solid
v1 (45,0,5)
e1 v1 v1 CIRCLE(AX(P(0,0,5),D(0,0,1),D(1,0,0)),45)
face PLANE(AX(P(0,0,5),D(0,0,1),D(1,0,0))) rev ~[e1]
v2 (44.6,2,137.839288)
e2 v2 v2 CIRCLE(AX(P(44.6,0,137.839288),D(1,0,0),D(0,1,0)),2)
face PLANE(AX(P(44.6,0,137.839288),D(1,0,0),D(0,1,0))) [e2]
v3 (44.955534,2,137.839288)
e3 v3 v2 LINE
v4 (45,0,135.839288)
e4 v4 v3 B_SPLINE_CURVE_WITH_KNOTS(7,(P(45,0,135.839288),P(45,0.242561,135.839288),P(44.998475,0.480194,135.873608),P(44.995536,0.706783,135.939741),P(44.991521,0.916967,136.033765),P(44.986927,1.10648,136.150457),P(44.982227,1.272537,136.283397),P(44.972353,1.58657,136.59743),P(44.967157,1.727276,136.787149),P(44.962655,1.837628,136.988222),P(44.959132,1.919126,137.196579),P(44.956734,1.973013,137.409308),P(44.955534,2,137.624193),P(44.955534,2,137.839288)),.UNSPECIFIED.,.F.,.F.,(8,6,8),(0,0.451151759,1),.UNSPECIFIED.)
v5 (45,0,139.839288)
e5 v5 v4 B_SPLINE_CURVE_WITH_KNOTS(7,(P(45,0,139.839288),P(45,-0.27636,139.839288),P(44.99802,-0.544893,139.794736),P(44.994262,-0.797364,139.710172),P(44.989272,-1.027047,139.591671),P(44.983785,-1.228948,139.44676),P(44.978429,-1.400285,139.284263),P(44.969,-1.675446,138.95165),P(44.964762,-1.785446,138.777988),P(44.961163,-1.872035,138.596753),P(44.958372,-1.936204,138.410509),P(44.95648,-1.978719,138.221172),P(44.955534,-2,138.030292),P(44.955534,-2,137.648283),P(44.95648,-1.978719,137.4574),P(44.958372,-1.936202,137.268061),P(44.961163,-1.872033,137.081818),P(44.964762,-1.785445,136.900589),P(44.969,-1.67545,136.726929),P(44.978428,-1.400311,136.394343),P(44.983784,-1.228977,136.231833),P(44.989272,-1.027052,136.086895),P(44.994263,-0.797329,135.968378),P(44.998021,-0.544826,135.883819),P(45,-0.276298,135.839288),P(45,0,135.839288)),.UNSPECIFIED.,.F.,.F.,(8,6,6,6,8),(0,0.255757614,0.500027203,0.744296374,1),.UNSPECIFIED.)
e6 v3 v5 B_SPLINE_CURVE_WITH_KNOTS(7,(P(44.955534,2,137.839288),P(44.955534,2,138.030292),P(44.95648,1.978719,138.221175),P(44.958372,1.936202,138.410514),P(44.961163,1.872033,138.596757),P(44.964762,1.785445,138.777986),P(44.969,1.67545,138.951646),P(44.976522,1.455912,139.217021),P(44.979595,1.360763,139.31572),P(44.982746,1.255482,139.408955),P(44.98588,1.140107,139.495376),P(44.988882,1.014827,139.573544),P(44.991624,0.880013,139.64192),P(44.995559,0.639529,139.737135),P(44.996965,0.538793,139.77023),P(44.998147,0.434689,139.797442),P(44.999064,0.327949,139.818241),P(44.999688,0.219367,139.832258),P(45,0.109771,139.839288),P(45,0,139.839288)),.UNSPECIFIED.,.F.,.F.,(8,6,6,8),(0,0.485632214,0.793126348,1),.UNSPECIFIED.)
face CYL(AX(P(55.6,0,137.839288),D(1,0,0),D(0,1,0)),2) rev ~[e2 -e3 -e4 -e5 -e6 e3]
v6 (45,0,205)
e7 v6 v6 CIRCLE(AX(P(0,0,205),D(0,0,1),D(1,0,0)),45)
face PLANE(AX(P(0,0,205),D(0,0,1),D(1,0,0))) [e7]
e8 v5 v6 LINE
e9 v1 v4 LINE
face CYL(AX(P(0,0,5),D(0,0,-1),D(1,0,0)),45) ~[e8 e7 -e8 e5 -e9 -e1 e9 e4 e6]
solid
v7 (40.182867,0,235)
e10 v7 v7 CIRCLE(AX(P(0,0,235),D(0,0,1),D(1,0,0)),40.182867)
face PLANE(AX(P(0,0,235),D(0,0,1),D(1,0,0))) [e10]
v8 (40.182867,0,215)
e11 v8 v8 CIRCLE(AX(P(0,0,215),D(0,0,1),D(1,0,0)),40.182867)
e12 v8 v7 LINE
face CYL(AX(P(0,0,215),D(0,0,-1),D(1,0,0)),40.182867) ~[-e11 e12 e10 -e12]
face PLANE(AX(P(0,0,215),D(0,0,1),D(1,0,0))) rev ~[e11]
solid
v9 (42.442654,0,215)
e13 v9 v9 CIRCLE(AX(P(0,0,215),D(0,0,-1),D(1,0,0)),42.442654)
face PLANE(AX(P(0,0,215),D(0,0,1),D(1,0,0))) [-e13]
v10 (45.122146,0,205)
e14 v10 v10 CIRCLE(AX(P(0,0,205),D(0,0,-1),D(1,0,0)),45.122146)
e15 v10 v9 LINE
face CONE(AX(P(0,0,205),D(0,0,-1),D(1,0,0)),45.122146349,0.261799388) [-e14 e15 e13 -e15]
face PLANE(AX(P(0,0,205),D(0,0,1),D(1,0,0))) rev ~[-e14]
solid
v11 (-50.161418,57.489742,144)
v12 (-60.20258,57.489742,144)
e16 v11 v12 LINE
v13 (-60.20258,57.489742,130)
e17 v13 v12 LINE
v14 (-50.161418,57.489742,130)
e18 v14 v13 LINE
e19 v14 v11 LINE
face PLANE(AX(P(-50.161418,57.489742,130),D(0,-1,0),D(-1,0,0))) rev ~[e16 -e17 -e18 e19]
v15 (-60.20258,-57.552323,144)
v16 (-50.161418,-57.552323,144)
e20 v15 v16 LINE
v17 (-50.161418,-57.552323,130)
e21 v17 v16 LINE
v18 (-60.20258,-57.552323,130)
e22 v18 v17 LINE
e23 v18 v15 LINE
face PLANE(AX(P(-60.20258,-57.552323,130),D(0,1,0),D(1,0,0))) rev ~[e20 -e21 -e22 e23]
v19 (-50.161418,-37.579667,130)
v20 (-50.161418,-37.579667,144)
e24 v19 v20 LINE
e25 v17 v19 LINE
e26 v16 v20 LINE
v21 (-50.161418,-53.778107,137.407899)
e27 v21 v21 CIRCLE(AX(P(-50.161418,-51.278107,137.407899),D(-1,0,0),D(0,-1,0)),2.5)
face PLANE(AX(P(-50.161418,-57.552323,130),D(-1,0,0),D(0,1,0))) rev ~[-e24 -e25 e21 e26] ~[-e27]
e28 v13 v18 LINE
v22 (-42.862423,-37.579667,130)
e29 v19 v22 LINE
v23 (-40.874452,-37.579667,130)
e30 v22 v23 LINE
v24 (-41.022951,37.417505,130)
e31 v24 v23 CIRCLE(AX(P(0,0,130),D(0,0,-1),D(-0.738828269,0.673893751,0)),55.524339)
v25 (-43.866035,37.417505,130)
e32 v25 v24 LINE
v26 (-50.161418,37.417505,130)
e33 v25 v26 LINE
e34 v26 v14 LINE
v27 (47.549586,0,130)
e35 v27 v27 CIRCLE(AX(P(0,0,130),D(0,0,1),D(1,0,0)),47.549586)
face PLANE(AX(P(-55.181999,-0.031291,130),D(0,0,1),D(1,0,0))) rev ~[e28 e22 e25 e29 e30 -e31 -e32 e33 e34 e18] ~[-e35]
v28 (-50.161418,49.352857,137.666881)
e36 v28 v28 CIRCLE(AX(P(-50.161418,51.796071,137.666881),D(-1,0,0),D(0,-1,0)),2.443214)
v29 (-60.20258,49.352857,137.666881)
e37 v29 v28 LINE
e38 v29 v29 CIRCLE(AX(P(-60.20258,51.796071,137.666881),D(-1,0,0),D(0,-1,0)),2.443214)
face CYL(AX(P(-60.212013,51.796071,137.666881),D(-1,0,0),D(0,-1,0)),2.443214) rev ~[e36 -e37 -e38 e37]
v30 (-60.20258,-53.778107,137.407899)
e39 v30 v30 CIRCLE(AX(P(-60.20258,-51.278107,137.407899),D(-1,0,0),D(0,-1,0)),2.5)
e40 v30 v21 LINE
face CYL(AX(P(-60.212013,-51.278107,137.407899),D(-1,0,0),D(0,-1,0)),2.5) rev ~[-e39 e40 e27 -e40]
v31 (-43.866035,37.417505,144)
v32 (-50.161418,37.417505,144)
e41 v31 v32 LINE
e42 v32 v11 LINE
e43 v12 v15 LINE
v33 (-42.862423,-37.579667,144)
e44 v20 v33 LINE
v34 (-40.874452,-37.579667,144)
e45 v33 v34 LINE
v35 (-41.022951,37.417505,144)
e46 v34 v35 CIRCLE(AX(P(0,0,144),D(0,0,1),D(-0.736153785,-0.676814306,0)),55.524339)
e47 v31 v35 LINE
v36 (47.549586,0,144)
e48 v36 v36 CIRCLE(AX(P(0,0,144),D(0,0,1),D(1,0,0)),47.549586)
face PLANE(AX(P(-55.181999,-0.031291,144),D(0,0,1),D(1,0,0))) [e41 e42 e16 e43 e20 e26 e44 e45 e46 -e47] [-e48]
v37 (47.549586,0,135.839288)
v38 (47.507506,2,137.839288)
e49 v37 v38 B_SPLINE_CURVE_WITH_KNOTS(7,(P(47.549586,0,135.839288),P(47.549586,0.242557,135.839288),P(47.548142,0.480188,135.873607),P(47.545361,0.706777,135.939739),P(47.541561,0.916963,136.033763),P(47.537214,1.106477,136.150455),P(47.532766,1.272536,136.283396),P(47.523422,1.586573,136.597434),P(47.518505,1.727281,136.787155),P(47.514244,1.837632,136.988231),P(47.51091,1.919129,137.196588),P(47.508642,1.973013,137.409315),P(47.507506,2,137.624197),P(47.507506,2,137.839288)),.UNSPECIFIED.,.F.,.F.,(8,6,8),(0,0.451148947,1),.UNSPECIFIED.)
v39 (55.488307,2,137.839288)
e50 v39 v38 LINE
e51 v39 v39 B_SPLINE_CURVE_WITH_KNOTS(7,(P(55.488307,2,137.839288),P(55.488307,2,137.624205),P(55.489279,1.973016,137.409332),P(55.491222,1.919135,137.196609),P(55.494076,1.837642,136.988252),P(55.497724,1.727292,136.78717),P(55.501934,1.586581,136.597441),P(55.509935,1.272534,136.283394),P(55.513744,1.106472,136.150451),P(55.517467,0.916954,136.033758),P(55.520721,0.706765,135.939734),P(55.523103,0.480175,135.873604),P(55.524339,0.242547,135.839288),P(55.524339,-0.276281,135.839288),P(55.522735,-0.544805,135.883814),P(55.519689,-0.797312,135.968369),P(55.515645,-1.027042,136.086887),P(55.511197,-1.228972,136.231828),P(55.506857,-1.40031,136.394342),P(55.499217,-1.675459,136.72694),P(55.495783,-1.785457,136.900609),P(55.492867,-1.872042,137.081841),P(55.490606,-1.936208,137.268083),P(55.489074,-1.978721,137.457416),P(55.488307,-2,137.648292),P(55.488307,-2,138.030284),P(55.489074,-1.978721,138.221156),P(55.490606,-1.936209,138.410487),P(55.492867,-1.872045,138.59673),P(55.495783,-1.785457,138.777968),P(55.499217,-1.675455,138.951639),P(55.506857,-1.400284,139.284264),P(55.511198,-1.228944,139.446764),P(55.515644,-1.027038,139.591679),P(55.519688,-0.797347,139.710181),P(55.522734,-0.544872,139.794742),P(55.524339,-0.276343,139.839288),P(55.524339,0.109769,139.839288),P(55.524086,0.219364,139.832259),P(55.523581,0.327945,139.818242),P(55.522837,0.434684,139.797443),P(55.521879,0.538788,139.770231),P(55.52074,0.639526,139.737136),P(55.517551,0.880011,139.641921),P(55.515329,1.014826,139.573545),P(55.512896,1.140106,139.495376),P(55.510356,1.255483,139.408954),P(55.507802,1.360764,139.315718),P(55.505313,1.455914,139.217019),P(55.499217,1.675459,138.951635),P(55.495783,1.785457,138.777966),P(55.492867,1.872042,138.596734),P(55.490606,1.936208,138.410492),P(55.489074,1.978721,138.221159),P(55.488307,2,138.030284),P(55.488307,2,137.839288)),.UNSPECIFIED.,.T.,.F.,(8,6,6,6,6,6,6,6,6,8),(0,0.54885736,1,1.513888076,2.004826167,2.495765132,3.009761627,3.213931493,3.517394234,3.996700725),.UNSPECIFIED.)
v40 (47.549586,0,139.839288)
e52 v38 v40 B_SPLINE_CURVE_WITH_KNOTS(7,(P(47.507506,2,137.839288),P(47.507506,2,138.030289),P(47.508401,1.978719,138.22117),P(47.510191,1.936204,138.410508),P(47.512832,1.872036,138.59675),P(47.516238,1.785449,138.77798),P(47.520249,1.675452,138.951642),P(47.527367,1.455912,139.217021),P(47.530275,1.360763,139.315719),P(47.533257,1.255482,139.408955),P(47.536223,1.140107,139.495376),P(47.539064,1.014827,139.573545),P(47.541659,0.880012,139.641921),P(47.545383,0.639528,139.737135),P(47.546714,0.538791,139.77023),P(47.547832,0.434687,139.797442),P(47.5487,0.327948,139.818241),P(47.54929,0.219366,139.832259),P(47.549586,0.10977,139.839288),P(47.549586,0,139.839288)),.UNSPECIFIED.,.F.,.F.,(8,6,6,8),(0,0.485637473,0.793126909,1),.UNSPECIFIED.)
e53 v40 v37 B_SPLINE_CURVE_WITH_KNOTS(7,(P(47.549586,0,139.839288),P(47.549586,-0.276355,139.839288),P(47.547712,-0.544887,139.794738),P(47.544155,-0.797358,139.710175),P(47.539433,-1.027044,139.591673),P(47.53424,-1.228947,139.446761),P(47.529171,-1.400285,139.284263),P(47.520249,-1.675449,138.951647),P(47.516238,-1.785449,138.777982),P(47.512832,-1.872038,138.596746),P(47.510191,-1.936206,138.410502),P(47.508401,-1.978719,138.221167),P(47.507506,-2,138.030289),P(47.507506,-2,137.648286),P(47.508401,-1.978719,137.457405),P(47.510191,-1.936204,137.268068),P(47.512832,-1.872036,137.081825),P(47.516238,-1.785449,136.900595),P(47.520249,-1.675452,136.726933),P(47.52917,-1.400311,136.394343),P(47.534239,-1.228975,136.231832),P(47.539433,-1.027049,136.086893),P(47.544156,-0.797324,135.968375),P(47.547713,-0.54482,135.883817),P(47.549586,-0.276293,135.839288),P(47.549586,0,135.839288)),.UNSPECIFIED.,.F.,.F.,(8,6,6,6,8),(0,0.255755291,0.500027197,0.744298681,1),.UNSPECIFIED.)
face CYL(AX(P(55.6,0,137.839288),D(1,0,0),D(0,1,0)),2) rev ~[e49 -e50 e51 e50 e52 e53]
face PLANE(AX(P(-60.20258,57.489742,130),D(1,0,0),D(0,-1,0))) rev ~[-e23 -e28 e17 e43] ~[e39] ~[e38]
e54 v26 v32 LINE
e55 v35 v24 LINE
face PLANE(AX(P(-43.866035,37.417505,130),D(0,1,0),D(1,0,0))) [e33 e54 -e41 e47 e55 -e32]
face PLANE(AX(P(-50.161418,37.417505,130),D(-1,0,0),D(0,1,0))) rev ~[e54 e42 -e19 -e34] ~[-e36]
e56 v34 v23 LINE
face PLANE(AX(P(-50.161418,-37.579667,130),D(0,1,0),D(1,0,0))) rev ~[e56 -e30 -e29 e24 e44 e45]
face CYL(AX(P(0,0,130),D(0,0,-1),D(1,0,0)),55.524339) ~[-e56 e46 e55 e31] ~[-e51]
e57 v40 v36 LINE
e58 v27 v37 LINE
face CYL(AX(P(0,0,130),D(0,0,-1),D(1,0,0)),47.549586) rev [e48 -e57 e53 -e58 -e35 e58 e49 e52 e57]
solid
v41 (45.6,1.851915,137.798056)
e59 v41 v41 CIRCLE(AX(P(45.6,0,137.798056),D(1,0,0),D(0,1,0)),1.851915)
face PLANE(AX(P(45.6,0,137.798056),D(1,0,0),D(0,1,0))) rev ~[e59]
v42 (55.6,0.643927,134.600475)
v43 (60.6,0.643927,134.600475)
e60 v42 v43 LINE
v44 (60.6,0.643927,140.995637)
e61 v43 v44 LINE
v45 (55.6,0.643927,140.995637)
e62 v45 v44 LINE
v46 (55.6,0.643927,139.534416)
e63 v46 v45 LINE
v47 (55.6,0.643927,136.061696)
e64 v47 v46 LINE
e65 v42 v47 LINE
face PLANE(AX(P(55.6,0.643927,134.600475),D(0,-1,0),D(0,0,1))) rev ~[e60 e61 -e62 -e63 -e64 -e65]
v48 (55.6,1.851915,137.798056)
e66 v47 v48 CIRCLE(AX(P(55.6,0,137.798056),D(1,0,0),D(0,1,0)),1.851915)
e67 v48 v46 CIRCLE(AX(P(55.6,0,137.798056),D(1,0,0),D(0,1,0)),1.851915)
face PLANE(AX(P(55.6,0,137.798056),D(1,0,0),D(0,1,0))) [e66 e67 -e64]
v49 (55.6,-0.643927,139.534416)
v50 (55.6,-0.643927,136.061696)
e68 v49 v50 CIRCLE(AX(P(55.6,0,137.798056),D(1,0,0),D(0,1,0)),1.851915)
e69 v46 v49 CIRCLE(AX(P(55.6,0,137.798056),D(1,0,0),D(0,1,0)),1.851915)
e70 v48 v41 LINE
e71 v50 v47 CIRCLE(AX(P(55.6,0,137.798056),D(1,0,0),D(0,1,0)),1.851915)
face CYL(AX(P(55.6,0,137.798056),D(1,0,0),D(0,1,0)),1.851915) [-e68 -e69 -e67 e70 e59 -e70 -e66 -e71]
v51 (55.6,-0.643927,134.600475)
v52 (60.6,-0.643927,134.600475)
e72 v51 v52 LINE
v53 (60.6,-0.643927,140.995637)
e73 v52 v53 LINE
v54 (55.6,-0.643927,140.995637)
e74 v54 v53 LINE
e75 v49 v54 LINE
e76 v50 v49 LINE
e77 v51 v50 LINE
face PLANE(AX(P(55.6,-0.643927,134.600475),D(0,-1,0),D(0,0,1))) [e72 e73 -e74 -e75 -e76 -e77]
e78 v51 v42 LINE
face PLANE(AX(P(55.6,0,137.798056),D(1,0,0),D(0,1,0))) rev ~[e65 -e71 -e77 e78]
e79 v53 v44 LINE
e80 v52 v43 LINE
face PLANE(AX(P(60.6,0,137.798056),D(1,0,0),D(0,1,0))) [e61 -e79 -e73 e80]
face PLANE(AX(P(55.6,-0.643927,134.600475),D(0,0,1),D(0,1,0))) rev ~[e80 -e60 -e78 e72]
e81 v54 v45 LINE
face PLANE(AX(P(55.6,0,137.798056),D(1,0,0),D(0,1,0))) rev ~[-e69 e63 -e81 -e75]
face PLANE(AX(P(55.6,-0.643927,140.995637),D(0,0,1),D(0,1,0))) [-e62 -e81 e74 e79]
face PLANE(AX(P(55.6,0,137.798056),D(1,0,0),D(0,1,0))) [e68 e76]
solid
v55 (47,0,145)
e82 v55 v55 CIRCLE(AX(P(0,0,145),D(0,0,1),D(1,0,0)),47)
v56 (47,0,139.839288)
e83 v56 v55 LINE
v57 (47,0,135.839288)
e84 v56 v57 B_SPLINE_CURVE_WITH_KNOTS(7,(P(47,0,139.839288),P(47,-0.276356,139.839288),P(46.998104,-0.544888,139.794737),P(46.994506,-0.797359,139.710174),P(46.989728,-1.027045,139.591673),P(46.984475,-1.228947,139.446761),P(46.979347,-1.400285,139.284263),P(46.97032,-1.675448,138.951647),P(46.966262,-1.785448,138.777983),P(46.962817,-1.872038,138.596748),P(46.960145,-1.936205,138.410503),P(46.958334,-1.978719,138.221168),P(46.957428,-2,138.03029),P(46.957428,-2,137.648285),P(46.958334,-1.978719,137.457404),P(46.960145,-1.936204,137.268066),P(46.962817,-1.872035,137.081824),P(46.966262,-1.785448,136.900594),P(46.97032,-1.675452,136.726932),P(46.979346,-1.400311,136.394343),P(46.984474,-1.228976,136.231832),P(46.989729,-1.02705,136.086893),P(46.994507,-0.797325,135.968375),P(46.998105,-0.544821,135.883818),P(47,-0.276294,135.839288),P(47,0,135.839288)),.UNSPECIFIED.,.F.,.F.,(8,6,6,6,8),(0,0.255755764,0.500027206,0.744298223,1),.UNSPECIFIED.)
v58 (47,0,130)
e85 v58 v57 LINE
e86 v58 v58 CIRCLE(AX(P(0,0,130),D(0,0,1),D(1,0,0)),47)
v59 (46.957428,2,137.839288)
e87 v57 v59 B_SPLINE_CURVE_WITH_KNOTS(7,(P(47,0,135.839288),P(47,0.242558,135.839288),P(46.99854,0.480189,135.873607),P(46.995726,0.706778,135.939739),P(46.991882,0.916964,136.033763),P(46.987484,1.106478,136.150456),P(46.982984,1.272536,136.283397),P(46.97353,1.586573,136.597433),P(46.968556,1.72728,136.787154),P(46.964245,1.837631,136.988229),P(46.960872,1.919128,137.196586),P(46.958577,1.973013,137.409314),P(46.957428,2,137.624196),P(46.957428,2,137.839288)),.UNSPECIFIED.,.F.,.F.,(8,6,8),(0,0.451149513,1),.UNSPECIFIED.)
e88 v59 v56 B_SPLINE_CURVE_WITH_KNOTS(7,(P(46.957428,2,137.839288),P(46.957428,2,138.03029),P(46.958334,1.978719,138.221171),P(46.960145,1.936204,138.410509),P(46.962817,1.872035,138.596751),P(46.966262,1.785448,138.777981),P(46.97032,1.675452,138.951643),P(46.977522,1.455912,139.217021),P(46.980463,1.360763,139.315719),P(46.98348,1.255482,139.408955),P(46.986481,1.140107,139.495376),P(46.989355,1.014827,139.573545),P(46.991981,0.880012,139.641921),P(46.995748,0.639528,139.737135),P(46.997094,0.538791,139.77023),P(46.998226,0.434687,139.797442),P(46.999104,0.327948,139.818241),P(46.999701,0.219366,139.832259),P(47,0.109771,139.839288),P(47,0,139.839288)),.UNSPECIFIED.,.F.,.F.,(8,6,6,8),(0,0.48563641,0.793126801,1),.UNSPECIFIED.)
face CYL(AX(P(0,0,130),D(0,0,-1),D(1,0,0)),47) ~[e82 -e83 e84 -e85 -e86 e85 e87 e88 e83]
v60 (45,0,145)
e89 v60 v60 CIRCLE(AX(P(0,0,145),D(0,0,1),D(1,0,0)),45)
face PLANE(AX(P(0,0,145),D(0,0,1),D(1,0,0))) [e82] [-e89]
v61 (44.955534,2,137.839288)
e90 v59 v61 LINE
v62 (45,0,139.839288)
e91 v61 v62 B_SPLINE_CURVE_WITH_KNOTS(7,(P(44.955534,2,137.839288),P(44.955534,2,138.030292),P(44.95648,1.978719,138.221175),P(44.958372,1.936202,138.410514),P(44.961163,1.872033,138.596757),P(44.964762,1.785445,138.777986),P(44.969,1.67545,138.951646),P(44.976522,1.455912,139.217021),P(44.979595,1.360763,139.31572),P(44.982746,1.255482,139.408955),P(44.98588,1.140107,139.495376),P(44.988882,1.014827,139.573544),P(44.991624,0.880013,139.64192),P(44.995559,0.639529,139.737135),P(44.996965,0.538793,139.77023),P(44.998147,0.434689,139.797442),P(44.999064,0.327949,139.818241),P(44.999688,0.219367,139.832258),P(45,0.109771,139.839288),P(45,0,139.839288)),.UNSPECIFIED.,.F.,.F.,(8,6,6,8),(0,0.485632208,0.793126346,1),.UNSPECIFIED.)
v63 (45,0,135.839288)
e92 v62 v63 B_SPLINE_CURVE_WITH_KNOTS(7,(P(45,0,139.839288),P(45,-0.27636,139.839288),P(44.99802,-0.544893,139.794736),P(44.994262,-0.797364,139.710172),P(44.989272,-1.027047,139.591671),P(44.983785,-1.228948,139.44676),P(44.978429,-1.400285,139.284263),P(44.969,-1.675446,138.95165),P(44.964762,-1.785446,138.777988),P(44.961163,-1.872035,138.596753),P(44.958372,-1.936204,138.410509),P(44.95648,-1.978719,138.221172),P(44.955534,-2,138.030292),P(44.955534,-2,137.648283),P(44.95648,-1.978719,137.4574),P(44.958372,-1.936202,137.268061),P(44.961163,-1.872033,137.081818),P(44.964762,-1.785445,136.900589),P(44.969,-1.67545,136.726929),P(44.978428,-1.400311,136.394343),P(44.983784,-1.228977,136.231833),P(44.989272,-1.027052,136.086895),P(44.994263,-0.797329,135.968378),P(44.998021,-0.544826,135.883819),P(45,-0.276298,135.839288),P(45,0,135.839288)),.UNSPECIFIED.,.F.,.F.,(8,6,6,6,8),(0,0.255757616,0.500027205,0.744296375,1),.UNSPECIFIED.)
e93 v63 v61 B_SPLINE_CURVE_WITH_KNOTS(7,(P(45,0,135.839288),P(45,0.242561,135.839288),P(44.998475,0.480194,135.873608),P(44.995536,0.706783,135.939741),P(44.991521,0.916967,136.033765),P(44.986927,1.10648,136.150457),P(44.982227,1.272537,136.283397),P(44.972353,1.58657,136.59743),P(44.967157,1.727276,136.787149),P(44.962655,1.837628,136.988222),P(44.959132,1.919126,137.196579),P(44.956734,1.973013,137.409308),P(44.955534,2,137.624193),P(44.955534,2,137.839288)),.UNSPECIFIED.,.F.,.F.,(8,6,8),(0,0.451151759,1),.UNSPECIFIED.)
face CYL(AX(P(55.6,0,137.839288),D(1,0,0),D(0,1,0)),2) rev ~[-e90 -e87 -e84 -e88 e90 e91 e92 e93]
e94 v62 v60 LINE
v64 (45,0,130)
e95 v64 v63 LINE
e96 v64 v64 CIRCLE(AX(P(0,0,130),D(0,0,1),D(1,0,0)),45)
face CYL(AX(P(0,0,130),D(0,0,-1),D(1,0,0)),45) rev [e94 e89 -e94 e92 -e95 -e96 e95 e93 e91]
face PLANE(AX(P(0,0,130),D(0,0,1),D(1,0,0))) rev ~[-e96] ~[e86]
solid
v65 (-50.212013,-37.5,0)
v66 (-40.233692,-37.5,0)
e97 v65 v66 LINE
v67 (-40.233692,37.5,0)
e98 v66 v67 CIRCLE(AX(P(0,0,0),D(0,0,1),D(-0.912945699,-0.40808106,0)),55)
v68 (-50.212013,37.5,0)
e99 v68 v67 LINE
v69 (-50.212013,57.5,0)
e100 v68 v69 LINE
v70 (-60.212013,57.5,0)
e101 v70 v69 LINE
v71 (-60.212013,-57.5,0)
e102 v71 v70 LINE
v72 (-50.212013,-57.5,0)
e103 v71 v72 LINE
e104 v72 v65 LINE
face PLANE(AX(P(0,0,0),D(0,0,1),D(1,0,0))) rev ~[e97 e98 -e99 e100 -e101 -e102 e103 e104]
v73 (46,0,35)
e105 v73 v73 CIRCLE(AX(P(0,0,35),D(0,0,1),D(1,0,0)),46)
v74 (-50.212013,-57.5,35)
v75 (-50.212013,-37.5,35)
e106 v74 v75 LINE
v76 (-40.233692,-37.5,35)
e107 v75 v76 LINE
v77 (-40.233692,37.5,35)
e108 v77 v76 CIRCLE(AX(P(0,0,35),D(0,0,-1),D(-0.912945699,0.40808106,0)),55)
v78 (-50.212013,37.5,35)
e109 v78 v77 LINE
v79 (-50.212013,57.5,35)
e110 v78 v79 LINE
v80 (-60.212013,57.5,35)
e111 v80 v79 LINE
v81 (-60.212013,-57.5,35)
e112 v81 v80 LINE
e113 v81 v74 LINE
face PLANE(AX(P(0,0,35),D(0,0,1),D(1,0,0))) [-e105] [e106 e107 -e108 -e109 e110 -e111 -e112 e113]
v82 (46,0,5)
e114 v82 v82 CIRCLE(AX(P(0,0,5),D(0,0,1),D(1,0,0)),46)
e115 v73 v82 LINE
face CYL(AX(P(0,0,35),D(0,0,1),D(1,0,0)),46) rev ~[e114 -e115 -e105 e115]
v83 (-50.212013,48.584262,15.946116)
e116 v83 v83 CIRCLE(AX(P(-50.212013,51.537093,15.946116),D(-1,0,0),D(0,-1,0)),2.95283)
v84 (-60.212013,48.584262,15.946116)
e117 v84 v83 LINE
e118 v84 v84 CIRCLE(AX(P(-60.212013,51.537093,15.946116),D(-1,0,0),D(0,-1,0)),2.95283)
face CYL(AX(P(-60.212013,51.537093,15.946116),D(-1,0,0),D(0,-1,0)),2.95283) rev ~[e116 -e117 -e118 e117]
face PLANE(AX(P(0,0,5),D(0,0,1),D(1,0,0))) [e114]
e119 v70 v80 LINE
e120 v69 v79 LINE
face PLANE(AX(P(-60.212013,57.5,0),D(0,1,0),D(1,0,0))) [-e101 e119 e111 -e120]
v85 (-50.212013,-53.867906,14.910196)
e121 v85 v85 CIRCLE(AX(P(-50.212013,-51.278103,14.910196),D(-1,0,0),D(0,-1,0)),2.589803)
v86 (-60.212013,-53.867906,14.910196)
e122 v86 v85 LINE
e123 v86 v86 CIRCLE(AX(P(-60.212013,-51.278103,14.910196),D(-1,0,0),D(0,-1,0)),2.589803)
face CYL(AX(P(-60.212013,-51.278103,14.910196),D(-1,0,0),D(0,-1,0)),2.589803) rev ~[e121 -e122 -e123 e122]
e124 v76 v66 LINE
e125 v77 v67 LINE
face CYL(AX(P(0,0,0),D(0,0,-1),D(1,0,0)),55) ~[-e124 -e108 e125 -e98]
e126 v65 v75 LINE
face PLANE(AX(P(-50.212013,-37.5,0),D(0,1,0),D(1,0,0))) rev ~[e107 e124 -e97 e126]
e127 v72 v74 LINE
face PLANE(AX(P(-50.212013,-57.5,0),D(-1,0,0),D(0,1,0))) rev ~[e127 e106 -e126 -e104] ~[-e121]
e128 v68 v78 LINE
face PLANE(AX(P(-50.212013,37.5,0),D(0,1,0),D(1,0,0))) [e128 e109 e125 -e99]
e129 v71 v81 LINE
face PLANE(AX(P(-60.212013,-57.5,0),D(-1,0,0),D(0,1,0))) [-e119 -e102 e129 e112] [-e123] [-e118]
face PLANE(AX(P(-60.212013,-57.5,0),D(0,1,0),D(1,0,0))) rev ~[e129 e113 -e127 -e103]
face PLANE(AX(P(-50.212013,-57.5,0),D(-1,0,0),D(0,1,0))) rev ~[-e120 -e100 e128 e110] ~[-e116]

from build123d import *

# Parameters (mm, degrees)
F1_W      = 10
F1_H      = 115
F2_DEPTH  = 35
F0_R      = 55
F3_DEPTH  = 35
F5_W      = 10
F5_H      = 16
F6_DEPTH  = 35
F7_R      = 46
F8_DEPTH  = 30
F9_R      = 45
F10_DEPTH = 200
F12_R     = 47
F12_R_2   = 45
F13_DEPTH = 15
F14_R     = 55.5243387496
F14_R_2   = 47.5495855214
F15_DEPTH = 14
F16_W     = 2.7371235192
F16_H     = 3.1020753086
F16_W_2   = 3.740735352
F16_H_2   = 3.740735352
F17_DEPTH = 14
F18_R     = 45.1221463485
F19_DEPTH = 10
F19_TAPER = 15
F20_R     = 40.1828666556
F21_DEPTH = 20
F22_R     = 2.589803189
F22_R_2   = 2.9528303604
F22_R_3   = 2.4432144549
F22_R_4   = 2.5
F23_DEPTH = 25
F24_DEPTH = 15
F26_R     = 2
F27_DEPTH = 11
F28_R     = 1.8519150729
F29_DEPTH = 10
F30_W     = 1.2878538109
F30_H     = 6.3951611519
F31_DEPTH = 5


with BuildPart() as f2:
    # F1 (on Top) → F2 (new body)
    with BuildSketch(Plane.XY):
        with Locations((-55.2120134234, 0)):
            Rectangle(F1_W, F1_H)
    extrude(amount=F2_DEPTH)

    # F0 (on Top) → F3 (join)
    with BuildSketch(Plane.XY):
        Circle(F0_R)
    extrude(amount=F3_DEPTH)

    # F5 (on Top) → F6 (join)
    with BuildSketch(Plane.XY):
        with Locations((-45.2120134234, 29.5)):
            Rectangle(F5_W, F5_H)
        with Locations((-45.2120134234, -29.5)):
            Rectangle(F5_W, F5_H)
    extrude(amount=F6_DEPTH)

    # F7 (on face) → F8 (cut)
    with BuildSketch(Plane.XY.offset(35)):
        Circle(F7_R)
    extrude(amount=-F8_DEPTH, mode=Mode.SUBTRACT)


with BuildPart() as f10:
    # F9 (on face) → F10 (new body)
    with BuildSketch(Plane.XY.offset(5)):
        Circle(F9_R)
    extrude(amount=F10_DEPTH)


with BuildPart() as f13:
    # F12 (on offset) → F13 (new body)
    with BuildSketch(Plane.XY.offset(130)):
        Circle(F12_R)
        Circle(F12_R_2, mode=Mode.SUBTRACT)
    extrude(amount=F13_DEPTH)


with BuildPart() as f15:
    # F14 (on offset) → F15 (new body)
    with BuildSketch(Plane.XY.offset(130)):
        Circle(F14_R)
        Circle(F14_R_2, mode=Mode.SUBTRACT)
    extrude(amount=F15_DEPTH)

    # F16 (on offset) → F17 (join)
    with BuildSketch(Plane.XY.offset(130)):
        Polygon((-60.2025799453, 57.4897415936), (-60.2025799453, -57.5523227453), (-50.1614175737, -57.5523227453), (-50.1614175737, -37.5796668231), (-50.1614175737, -22.9816753417), (-50.1614175737, 23.2757031918), (-50.1614175737, 37.4175049365), (-50.1614175737, 57.4897415936), align=None)
        Polygon((-50.1614175737, -22.9816753417), (-50.1614175737, -37.5796668231), (-42.8624227643, -37.5796668231), (-42.8624227643, -34.4775915146), (-42.8624227643, -22.9816753417), align=None)
        with Locations((-41.4938610047, -36.0286291689)):
            Rectangle(F16_W, F16_H)
        Polygon((-43.8660345972, 37.4175049365), (-50.1614175737, 37.4175049365), (-50.1614175737, 23.2757031918), (-43.8660345972, 23.2757031918), (-43.8660345972, 33.6767695844), align=None)
        with Locations((-41.9956669211, 35.5471372604)):
            Rectangle(F16_W_2, F16_H_2)
    extrude(amount=F17_DEPTH)


with BuildPart() as f19:
    # F18 (on face) → F19 (new body)
    with BuildSketch(Plane.XY.offset(205)):
        Circle(F18_R)
    extrude(amount=F19_DEPTH, taper=F19_TAPER)


with BuildPart() as f21:
    # F20 (on face) → F21 (new body)
    with BuildSketch(Plane.XY.offset(215)):
        Circle(F20_R)
    extrude(amount=F21_DEPTH)


with BuildPart() as f23_tool:
    # F22 (on face) → F23 (new body)
    with BuildSketch(Plane(origin=(-60.2120134234, 0, 0), x_dir=(0, -1, 0), z_dir=(-1, 0, 0))):
        with Locations((51.278103143, 14.9101959541)):
            Circle(F22_R)
        with Locations((-51.5370927751, 15.9461162984)):
            Circle(F22_R_2)
        with Locations((-51.7960712314, 137.6668810844)):
            Circle(F22_R_3)
        with Locations((51.2781068683, 137.4078989029)):
            Circle(F22_R_4)
    extrude(amount=-F23_DEPTH)


with BuildPart() as f2_1:
    add(f2.part)

    # F23: cut by f23_tool
    add(f23_tool.part, mode=Mode.SUBTRACT)

    # F22 (on face) → F24 (cut)
    with BuildSketch(Plane(origin=(-60.2120134234, 0, 0), x_dir=(0, -1, 0), z_dir=(-1, 0, 0))):
        with Locations((51.278103143, 14.9101959541)):
            Circle(F22_R)
        with Locations((-51.5370927751, 15.9461162984)):
            Circle(F22_R_2)
        with Locations((-51.7960712314, 137.6668810844)):
            Circle(F22_R_3)
        with Locations((51.2781068683, 137.4078989029)):
            Circle(F22_R_4)
    extrude(amount=-F24_DEPTH, mode=Mode.SUBTRACT)


with BuildPart() as f15_1:
    add(f15.part)

    # F23: cut by f23_tool
    add(f23_tool.part, mode=Mode.SUBTRACT)


with BuildPart() as f27_tool:
    # F26 (on offset) → F27 (new body)
    with BuildSketch(Plane.YZ.offset(55.6)):
        with Locations((0, 137.8392875195)):
            Circle(F26_R)
    extrude(amount=-F27_DEPTH)


with BuildPart() as f10_1:
    add(f10.part)

    # F27: cut by f27_tool
    add(f27_tool.part, mode=Mode.SUBTRACT)


with BuildPart() as f13_1:
    add(f13.part)

    # F27: cut by f27_tool
    add(f27_tool.part, mode=Mode.SUBTRACT)


with BuildPart() as f15_2:
    add(f15_1.part)

    # F27: cut by f27_tool
    add(f27_tool.part, mode=Mode.SUBTRACT)


with BuildPart() as f29:
    # F28 (on offset) → F29 (new body)
    with BuildSketch(Plane.YZ.offset(55.6)):
        with Locations((0, 137.7980560064)):
            Circle(F28_R)
    extrude(amount=-F29_DEPTH)

    # F30 (on face) → F31 (join)
    with BuildSketch(Plane.YZ.offset(55.6)):
        with Locations((0, 137.7980560064)):
            Rectangle(F30_W, F30_H)
    extrude(amount=F31_DEPTH)


solid = Compound([f19.part, f21.part, f2_1.part, f10_1.part, f13_1.part, f15_2.part, f29.part])
